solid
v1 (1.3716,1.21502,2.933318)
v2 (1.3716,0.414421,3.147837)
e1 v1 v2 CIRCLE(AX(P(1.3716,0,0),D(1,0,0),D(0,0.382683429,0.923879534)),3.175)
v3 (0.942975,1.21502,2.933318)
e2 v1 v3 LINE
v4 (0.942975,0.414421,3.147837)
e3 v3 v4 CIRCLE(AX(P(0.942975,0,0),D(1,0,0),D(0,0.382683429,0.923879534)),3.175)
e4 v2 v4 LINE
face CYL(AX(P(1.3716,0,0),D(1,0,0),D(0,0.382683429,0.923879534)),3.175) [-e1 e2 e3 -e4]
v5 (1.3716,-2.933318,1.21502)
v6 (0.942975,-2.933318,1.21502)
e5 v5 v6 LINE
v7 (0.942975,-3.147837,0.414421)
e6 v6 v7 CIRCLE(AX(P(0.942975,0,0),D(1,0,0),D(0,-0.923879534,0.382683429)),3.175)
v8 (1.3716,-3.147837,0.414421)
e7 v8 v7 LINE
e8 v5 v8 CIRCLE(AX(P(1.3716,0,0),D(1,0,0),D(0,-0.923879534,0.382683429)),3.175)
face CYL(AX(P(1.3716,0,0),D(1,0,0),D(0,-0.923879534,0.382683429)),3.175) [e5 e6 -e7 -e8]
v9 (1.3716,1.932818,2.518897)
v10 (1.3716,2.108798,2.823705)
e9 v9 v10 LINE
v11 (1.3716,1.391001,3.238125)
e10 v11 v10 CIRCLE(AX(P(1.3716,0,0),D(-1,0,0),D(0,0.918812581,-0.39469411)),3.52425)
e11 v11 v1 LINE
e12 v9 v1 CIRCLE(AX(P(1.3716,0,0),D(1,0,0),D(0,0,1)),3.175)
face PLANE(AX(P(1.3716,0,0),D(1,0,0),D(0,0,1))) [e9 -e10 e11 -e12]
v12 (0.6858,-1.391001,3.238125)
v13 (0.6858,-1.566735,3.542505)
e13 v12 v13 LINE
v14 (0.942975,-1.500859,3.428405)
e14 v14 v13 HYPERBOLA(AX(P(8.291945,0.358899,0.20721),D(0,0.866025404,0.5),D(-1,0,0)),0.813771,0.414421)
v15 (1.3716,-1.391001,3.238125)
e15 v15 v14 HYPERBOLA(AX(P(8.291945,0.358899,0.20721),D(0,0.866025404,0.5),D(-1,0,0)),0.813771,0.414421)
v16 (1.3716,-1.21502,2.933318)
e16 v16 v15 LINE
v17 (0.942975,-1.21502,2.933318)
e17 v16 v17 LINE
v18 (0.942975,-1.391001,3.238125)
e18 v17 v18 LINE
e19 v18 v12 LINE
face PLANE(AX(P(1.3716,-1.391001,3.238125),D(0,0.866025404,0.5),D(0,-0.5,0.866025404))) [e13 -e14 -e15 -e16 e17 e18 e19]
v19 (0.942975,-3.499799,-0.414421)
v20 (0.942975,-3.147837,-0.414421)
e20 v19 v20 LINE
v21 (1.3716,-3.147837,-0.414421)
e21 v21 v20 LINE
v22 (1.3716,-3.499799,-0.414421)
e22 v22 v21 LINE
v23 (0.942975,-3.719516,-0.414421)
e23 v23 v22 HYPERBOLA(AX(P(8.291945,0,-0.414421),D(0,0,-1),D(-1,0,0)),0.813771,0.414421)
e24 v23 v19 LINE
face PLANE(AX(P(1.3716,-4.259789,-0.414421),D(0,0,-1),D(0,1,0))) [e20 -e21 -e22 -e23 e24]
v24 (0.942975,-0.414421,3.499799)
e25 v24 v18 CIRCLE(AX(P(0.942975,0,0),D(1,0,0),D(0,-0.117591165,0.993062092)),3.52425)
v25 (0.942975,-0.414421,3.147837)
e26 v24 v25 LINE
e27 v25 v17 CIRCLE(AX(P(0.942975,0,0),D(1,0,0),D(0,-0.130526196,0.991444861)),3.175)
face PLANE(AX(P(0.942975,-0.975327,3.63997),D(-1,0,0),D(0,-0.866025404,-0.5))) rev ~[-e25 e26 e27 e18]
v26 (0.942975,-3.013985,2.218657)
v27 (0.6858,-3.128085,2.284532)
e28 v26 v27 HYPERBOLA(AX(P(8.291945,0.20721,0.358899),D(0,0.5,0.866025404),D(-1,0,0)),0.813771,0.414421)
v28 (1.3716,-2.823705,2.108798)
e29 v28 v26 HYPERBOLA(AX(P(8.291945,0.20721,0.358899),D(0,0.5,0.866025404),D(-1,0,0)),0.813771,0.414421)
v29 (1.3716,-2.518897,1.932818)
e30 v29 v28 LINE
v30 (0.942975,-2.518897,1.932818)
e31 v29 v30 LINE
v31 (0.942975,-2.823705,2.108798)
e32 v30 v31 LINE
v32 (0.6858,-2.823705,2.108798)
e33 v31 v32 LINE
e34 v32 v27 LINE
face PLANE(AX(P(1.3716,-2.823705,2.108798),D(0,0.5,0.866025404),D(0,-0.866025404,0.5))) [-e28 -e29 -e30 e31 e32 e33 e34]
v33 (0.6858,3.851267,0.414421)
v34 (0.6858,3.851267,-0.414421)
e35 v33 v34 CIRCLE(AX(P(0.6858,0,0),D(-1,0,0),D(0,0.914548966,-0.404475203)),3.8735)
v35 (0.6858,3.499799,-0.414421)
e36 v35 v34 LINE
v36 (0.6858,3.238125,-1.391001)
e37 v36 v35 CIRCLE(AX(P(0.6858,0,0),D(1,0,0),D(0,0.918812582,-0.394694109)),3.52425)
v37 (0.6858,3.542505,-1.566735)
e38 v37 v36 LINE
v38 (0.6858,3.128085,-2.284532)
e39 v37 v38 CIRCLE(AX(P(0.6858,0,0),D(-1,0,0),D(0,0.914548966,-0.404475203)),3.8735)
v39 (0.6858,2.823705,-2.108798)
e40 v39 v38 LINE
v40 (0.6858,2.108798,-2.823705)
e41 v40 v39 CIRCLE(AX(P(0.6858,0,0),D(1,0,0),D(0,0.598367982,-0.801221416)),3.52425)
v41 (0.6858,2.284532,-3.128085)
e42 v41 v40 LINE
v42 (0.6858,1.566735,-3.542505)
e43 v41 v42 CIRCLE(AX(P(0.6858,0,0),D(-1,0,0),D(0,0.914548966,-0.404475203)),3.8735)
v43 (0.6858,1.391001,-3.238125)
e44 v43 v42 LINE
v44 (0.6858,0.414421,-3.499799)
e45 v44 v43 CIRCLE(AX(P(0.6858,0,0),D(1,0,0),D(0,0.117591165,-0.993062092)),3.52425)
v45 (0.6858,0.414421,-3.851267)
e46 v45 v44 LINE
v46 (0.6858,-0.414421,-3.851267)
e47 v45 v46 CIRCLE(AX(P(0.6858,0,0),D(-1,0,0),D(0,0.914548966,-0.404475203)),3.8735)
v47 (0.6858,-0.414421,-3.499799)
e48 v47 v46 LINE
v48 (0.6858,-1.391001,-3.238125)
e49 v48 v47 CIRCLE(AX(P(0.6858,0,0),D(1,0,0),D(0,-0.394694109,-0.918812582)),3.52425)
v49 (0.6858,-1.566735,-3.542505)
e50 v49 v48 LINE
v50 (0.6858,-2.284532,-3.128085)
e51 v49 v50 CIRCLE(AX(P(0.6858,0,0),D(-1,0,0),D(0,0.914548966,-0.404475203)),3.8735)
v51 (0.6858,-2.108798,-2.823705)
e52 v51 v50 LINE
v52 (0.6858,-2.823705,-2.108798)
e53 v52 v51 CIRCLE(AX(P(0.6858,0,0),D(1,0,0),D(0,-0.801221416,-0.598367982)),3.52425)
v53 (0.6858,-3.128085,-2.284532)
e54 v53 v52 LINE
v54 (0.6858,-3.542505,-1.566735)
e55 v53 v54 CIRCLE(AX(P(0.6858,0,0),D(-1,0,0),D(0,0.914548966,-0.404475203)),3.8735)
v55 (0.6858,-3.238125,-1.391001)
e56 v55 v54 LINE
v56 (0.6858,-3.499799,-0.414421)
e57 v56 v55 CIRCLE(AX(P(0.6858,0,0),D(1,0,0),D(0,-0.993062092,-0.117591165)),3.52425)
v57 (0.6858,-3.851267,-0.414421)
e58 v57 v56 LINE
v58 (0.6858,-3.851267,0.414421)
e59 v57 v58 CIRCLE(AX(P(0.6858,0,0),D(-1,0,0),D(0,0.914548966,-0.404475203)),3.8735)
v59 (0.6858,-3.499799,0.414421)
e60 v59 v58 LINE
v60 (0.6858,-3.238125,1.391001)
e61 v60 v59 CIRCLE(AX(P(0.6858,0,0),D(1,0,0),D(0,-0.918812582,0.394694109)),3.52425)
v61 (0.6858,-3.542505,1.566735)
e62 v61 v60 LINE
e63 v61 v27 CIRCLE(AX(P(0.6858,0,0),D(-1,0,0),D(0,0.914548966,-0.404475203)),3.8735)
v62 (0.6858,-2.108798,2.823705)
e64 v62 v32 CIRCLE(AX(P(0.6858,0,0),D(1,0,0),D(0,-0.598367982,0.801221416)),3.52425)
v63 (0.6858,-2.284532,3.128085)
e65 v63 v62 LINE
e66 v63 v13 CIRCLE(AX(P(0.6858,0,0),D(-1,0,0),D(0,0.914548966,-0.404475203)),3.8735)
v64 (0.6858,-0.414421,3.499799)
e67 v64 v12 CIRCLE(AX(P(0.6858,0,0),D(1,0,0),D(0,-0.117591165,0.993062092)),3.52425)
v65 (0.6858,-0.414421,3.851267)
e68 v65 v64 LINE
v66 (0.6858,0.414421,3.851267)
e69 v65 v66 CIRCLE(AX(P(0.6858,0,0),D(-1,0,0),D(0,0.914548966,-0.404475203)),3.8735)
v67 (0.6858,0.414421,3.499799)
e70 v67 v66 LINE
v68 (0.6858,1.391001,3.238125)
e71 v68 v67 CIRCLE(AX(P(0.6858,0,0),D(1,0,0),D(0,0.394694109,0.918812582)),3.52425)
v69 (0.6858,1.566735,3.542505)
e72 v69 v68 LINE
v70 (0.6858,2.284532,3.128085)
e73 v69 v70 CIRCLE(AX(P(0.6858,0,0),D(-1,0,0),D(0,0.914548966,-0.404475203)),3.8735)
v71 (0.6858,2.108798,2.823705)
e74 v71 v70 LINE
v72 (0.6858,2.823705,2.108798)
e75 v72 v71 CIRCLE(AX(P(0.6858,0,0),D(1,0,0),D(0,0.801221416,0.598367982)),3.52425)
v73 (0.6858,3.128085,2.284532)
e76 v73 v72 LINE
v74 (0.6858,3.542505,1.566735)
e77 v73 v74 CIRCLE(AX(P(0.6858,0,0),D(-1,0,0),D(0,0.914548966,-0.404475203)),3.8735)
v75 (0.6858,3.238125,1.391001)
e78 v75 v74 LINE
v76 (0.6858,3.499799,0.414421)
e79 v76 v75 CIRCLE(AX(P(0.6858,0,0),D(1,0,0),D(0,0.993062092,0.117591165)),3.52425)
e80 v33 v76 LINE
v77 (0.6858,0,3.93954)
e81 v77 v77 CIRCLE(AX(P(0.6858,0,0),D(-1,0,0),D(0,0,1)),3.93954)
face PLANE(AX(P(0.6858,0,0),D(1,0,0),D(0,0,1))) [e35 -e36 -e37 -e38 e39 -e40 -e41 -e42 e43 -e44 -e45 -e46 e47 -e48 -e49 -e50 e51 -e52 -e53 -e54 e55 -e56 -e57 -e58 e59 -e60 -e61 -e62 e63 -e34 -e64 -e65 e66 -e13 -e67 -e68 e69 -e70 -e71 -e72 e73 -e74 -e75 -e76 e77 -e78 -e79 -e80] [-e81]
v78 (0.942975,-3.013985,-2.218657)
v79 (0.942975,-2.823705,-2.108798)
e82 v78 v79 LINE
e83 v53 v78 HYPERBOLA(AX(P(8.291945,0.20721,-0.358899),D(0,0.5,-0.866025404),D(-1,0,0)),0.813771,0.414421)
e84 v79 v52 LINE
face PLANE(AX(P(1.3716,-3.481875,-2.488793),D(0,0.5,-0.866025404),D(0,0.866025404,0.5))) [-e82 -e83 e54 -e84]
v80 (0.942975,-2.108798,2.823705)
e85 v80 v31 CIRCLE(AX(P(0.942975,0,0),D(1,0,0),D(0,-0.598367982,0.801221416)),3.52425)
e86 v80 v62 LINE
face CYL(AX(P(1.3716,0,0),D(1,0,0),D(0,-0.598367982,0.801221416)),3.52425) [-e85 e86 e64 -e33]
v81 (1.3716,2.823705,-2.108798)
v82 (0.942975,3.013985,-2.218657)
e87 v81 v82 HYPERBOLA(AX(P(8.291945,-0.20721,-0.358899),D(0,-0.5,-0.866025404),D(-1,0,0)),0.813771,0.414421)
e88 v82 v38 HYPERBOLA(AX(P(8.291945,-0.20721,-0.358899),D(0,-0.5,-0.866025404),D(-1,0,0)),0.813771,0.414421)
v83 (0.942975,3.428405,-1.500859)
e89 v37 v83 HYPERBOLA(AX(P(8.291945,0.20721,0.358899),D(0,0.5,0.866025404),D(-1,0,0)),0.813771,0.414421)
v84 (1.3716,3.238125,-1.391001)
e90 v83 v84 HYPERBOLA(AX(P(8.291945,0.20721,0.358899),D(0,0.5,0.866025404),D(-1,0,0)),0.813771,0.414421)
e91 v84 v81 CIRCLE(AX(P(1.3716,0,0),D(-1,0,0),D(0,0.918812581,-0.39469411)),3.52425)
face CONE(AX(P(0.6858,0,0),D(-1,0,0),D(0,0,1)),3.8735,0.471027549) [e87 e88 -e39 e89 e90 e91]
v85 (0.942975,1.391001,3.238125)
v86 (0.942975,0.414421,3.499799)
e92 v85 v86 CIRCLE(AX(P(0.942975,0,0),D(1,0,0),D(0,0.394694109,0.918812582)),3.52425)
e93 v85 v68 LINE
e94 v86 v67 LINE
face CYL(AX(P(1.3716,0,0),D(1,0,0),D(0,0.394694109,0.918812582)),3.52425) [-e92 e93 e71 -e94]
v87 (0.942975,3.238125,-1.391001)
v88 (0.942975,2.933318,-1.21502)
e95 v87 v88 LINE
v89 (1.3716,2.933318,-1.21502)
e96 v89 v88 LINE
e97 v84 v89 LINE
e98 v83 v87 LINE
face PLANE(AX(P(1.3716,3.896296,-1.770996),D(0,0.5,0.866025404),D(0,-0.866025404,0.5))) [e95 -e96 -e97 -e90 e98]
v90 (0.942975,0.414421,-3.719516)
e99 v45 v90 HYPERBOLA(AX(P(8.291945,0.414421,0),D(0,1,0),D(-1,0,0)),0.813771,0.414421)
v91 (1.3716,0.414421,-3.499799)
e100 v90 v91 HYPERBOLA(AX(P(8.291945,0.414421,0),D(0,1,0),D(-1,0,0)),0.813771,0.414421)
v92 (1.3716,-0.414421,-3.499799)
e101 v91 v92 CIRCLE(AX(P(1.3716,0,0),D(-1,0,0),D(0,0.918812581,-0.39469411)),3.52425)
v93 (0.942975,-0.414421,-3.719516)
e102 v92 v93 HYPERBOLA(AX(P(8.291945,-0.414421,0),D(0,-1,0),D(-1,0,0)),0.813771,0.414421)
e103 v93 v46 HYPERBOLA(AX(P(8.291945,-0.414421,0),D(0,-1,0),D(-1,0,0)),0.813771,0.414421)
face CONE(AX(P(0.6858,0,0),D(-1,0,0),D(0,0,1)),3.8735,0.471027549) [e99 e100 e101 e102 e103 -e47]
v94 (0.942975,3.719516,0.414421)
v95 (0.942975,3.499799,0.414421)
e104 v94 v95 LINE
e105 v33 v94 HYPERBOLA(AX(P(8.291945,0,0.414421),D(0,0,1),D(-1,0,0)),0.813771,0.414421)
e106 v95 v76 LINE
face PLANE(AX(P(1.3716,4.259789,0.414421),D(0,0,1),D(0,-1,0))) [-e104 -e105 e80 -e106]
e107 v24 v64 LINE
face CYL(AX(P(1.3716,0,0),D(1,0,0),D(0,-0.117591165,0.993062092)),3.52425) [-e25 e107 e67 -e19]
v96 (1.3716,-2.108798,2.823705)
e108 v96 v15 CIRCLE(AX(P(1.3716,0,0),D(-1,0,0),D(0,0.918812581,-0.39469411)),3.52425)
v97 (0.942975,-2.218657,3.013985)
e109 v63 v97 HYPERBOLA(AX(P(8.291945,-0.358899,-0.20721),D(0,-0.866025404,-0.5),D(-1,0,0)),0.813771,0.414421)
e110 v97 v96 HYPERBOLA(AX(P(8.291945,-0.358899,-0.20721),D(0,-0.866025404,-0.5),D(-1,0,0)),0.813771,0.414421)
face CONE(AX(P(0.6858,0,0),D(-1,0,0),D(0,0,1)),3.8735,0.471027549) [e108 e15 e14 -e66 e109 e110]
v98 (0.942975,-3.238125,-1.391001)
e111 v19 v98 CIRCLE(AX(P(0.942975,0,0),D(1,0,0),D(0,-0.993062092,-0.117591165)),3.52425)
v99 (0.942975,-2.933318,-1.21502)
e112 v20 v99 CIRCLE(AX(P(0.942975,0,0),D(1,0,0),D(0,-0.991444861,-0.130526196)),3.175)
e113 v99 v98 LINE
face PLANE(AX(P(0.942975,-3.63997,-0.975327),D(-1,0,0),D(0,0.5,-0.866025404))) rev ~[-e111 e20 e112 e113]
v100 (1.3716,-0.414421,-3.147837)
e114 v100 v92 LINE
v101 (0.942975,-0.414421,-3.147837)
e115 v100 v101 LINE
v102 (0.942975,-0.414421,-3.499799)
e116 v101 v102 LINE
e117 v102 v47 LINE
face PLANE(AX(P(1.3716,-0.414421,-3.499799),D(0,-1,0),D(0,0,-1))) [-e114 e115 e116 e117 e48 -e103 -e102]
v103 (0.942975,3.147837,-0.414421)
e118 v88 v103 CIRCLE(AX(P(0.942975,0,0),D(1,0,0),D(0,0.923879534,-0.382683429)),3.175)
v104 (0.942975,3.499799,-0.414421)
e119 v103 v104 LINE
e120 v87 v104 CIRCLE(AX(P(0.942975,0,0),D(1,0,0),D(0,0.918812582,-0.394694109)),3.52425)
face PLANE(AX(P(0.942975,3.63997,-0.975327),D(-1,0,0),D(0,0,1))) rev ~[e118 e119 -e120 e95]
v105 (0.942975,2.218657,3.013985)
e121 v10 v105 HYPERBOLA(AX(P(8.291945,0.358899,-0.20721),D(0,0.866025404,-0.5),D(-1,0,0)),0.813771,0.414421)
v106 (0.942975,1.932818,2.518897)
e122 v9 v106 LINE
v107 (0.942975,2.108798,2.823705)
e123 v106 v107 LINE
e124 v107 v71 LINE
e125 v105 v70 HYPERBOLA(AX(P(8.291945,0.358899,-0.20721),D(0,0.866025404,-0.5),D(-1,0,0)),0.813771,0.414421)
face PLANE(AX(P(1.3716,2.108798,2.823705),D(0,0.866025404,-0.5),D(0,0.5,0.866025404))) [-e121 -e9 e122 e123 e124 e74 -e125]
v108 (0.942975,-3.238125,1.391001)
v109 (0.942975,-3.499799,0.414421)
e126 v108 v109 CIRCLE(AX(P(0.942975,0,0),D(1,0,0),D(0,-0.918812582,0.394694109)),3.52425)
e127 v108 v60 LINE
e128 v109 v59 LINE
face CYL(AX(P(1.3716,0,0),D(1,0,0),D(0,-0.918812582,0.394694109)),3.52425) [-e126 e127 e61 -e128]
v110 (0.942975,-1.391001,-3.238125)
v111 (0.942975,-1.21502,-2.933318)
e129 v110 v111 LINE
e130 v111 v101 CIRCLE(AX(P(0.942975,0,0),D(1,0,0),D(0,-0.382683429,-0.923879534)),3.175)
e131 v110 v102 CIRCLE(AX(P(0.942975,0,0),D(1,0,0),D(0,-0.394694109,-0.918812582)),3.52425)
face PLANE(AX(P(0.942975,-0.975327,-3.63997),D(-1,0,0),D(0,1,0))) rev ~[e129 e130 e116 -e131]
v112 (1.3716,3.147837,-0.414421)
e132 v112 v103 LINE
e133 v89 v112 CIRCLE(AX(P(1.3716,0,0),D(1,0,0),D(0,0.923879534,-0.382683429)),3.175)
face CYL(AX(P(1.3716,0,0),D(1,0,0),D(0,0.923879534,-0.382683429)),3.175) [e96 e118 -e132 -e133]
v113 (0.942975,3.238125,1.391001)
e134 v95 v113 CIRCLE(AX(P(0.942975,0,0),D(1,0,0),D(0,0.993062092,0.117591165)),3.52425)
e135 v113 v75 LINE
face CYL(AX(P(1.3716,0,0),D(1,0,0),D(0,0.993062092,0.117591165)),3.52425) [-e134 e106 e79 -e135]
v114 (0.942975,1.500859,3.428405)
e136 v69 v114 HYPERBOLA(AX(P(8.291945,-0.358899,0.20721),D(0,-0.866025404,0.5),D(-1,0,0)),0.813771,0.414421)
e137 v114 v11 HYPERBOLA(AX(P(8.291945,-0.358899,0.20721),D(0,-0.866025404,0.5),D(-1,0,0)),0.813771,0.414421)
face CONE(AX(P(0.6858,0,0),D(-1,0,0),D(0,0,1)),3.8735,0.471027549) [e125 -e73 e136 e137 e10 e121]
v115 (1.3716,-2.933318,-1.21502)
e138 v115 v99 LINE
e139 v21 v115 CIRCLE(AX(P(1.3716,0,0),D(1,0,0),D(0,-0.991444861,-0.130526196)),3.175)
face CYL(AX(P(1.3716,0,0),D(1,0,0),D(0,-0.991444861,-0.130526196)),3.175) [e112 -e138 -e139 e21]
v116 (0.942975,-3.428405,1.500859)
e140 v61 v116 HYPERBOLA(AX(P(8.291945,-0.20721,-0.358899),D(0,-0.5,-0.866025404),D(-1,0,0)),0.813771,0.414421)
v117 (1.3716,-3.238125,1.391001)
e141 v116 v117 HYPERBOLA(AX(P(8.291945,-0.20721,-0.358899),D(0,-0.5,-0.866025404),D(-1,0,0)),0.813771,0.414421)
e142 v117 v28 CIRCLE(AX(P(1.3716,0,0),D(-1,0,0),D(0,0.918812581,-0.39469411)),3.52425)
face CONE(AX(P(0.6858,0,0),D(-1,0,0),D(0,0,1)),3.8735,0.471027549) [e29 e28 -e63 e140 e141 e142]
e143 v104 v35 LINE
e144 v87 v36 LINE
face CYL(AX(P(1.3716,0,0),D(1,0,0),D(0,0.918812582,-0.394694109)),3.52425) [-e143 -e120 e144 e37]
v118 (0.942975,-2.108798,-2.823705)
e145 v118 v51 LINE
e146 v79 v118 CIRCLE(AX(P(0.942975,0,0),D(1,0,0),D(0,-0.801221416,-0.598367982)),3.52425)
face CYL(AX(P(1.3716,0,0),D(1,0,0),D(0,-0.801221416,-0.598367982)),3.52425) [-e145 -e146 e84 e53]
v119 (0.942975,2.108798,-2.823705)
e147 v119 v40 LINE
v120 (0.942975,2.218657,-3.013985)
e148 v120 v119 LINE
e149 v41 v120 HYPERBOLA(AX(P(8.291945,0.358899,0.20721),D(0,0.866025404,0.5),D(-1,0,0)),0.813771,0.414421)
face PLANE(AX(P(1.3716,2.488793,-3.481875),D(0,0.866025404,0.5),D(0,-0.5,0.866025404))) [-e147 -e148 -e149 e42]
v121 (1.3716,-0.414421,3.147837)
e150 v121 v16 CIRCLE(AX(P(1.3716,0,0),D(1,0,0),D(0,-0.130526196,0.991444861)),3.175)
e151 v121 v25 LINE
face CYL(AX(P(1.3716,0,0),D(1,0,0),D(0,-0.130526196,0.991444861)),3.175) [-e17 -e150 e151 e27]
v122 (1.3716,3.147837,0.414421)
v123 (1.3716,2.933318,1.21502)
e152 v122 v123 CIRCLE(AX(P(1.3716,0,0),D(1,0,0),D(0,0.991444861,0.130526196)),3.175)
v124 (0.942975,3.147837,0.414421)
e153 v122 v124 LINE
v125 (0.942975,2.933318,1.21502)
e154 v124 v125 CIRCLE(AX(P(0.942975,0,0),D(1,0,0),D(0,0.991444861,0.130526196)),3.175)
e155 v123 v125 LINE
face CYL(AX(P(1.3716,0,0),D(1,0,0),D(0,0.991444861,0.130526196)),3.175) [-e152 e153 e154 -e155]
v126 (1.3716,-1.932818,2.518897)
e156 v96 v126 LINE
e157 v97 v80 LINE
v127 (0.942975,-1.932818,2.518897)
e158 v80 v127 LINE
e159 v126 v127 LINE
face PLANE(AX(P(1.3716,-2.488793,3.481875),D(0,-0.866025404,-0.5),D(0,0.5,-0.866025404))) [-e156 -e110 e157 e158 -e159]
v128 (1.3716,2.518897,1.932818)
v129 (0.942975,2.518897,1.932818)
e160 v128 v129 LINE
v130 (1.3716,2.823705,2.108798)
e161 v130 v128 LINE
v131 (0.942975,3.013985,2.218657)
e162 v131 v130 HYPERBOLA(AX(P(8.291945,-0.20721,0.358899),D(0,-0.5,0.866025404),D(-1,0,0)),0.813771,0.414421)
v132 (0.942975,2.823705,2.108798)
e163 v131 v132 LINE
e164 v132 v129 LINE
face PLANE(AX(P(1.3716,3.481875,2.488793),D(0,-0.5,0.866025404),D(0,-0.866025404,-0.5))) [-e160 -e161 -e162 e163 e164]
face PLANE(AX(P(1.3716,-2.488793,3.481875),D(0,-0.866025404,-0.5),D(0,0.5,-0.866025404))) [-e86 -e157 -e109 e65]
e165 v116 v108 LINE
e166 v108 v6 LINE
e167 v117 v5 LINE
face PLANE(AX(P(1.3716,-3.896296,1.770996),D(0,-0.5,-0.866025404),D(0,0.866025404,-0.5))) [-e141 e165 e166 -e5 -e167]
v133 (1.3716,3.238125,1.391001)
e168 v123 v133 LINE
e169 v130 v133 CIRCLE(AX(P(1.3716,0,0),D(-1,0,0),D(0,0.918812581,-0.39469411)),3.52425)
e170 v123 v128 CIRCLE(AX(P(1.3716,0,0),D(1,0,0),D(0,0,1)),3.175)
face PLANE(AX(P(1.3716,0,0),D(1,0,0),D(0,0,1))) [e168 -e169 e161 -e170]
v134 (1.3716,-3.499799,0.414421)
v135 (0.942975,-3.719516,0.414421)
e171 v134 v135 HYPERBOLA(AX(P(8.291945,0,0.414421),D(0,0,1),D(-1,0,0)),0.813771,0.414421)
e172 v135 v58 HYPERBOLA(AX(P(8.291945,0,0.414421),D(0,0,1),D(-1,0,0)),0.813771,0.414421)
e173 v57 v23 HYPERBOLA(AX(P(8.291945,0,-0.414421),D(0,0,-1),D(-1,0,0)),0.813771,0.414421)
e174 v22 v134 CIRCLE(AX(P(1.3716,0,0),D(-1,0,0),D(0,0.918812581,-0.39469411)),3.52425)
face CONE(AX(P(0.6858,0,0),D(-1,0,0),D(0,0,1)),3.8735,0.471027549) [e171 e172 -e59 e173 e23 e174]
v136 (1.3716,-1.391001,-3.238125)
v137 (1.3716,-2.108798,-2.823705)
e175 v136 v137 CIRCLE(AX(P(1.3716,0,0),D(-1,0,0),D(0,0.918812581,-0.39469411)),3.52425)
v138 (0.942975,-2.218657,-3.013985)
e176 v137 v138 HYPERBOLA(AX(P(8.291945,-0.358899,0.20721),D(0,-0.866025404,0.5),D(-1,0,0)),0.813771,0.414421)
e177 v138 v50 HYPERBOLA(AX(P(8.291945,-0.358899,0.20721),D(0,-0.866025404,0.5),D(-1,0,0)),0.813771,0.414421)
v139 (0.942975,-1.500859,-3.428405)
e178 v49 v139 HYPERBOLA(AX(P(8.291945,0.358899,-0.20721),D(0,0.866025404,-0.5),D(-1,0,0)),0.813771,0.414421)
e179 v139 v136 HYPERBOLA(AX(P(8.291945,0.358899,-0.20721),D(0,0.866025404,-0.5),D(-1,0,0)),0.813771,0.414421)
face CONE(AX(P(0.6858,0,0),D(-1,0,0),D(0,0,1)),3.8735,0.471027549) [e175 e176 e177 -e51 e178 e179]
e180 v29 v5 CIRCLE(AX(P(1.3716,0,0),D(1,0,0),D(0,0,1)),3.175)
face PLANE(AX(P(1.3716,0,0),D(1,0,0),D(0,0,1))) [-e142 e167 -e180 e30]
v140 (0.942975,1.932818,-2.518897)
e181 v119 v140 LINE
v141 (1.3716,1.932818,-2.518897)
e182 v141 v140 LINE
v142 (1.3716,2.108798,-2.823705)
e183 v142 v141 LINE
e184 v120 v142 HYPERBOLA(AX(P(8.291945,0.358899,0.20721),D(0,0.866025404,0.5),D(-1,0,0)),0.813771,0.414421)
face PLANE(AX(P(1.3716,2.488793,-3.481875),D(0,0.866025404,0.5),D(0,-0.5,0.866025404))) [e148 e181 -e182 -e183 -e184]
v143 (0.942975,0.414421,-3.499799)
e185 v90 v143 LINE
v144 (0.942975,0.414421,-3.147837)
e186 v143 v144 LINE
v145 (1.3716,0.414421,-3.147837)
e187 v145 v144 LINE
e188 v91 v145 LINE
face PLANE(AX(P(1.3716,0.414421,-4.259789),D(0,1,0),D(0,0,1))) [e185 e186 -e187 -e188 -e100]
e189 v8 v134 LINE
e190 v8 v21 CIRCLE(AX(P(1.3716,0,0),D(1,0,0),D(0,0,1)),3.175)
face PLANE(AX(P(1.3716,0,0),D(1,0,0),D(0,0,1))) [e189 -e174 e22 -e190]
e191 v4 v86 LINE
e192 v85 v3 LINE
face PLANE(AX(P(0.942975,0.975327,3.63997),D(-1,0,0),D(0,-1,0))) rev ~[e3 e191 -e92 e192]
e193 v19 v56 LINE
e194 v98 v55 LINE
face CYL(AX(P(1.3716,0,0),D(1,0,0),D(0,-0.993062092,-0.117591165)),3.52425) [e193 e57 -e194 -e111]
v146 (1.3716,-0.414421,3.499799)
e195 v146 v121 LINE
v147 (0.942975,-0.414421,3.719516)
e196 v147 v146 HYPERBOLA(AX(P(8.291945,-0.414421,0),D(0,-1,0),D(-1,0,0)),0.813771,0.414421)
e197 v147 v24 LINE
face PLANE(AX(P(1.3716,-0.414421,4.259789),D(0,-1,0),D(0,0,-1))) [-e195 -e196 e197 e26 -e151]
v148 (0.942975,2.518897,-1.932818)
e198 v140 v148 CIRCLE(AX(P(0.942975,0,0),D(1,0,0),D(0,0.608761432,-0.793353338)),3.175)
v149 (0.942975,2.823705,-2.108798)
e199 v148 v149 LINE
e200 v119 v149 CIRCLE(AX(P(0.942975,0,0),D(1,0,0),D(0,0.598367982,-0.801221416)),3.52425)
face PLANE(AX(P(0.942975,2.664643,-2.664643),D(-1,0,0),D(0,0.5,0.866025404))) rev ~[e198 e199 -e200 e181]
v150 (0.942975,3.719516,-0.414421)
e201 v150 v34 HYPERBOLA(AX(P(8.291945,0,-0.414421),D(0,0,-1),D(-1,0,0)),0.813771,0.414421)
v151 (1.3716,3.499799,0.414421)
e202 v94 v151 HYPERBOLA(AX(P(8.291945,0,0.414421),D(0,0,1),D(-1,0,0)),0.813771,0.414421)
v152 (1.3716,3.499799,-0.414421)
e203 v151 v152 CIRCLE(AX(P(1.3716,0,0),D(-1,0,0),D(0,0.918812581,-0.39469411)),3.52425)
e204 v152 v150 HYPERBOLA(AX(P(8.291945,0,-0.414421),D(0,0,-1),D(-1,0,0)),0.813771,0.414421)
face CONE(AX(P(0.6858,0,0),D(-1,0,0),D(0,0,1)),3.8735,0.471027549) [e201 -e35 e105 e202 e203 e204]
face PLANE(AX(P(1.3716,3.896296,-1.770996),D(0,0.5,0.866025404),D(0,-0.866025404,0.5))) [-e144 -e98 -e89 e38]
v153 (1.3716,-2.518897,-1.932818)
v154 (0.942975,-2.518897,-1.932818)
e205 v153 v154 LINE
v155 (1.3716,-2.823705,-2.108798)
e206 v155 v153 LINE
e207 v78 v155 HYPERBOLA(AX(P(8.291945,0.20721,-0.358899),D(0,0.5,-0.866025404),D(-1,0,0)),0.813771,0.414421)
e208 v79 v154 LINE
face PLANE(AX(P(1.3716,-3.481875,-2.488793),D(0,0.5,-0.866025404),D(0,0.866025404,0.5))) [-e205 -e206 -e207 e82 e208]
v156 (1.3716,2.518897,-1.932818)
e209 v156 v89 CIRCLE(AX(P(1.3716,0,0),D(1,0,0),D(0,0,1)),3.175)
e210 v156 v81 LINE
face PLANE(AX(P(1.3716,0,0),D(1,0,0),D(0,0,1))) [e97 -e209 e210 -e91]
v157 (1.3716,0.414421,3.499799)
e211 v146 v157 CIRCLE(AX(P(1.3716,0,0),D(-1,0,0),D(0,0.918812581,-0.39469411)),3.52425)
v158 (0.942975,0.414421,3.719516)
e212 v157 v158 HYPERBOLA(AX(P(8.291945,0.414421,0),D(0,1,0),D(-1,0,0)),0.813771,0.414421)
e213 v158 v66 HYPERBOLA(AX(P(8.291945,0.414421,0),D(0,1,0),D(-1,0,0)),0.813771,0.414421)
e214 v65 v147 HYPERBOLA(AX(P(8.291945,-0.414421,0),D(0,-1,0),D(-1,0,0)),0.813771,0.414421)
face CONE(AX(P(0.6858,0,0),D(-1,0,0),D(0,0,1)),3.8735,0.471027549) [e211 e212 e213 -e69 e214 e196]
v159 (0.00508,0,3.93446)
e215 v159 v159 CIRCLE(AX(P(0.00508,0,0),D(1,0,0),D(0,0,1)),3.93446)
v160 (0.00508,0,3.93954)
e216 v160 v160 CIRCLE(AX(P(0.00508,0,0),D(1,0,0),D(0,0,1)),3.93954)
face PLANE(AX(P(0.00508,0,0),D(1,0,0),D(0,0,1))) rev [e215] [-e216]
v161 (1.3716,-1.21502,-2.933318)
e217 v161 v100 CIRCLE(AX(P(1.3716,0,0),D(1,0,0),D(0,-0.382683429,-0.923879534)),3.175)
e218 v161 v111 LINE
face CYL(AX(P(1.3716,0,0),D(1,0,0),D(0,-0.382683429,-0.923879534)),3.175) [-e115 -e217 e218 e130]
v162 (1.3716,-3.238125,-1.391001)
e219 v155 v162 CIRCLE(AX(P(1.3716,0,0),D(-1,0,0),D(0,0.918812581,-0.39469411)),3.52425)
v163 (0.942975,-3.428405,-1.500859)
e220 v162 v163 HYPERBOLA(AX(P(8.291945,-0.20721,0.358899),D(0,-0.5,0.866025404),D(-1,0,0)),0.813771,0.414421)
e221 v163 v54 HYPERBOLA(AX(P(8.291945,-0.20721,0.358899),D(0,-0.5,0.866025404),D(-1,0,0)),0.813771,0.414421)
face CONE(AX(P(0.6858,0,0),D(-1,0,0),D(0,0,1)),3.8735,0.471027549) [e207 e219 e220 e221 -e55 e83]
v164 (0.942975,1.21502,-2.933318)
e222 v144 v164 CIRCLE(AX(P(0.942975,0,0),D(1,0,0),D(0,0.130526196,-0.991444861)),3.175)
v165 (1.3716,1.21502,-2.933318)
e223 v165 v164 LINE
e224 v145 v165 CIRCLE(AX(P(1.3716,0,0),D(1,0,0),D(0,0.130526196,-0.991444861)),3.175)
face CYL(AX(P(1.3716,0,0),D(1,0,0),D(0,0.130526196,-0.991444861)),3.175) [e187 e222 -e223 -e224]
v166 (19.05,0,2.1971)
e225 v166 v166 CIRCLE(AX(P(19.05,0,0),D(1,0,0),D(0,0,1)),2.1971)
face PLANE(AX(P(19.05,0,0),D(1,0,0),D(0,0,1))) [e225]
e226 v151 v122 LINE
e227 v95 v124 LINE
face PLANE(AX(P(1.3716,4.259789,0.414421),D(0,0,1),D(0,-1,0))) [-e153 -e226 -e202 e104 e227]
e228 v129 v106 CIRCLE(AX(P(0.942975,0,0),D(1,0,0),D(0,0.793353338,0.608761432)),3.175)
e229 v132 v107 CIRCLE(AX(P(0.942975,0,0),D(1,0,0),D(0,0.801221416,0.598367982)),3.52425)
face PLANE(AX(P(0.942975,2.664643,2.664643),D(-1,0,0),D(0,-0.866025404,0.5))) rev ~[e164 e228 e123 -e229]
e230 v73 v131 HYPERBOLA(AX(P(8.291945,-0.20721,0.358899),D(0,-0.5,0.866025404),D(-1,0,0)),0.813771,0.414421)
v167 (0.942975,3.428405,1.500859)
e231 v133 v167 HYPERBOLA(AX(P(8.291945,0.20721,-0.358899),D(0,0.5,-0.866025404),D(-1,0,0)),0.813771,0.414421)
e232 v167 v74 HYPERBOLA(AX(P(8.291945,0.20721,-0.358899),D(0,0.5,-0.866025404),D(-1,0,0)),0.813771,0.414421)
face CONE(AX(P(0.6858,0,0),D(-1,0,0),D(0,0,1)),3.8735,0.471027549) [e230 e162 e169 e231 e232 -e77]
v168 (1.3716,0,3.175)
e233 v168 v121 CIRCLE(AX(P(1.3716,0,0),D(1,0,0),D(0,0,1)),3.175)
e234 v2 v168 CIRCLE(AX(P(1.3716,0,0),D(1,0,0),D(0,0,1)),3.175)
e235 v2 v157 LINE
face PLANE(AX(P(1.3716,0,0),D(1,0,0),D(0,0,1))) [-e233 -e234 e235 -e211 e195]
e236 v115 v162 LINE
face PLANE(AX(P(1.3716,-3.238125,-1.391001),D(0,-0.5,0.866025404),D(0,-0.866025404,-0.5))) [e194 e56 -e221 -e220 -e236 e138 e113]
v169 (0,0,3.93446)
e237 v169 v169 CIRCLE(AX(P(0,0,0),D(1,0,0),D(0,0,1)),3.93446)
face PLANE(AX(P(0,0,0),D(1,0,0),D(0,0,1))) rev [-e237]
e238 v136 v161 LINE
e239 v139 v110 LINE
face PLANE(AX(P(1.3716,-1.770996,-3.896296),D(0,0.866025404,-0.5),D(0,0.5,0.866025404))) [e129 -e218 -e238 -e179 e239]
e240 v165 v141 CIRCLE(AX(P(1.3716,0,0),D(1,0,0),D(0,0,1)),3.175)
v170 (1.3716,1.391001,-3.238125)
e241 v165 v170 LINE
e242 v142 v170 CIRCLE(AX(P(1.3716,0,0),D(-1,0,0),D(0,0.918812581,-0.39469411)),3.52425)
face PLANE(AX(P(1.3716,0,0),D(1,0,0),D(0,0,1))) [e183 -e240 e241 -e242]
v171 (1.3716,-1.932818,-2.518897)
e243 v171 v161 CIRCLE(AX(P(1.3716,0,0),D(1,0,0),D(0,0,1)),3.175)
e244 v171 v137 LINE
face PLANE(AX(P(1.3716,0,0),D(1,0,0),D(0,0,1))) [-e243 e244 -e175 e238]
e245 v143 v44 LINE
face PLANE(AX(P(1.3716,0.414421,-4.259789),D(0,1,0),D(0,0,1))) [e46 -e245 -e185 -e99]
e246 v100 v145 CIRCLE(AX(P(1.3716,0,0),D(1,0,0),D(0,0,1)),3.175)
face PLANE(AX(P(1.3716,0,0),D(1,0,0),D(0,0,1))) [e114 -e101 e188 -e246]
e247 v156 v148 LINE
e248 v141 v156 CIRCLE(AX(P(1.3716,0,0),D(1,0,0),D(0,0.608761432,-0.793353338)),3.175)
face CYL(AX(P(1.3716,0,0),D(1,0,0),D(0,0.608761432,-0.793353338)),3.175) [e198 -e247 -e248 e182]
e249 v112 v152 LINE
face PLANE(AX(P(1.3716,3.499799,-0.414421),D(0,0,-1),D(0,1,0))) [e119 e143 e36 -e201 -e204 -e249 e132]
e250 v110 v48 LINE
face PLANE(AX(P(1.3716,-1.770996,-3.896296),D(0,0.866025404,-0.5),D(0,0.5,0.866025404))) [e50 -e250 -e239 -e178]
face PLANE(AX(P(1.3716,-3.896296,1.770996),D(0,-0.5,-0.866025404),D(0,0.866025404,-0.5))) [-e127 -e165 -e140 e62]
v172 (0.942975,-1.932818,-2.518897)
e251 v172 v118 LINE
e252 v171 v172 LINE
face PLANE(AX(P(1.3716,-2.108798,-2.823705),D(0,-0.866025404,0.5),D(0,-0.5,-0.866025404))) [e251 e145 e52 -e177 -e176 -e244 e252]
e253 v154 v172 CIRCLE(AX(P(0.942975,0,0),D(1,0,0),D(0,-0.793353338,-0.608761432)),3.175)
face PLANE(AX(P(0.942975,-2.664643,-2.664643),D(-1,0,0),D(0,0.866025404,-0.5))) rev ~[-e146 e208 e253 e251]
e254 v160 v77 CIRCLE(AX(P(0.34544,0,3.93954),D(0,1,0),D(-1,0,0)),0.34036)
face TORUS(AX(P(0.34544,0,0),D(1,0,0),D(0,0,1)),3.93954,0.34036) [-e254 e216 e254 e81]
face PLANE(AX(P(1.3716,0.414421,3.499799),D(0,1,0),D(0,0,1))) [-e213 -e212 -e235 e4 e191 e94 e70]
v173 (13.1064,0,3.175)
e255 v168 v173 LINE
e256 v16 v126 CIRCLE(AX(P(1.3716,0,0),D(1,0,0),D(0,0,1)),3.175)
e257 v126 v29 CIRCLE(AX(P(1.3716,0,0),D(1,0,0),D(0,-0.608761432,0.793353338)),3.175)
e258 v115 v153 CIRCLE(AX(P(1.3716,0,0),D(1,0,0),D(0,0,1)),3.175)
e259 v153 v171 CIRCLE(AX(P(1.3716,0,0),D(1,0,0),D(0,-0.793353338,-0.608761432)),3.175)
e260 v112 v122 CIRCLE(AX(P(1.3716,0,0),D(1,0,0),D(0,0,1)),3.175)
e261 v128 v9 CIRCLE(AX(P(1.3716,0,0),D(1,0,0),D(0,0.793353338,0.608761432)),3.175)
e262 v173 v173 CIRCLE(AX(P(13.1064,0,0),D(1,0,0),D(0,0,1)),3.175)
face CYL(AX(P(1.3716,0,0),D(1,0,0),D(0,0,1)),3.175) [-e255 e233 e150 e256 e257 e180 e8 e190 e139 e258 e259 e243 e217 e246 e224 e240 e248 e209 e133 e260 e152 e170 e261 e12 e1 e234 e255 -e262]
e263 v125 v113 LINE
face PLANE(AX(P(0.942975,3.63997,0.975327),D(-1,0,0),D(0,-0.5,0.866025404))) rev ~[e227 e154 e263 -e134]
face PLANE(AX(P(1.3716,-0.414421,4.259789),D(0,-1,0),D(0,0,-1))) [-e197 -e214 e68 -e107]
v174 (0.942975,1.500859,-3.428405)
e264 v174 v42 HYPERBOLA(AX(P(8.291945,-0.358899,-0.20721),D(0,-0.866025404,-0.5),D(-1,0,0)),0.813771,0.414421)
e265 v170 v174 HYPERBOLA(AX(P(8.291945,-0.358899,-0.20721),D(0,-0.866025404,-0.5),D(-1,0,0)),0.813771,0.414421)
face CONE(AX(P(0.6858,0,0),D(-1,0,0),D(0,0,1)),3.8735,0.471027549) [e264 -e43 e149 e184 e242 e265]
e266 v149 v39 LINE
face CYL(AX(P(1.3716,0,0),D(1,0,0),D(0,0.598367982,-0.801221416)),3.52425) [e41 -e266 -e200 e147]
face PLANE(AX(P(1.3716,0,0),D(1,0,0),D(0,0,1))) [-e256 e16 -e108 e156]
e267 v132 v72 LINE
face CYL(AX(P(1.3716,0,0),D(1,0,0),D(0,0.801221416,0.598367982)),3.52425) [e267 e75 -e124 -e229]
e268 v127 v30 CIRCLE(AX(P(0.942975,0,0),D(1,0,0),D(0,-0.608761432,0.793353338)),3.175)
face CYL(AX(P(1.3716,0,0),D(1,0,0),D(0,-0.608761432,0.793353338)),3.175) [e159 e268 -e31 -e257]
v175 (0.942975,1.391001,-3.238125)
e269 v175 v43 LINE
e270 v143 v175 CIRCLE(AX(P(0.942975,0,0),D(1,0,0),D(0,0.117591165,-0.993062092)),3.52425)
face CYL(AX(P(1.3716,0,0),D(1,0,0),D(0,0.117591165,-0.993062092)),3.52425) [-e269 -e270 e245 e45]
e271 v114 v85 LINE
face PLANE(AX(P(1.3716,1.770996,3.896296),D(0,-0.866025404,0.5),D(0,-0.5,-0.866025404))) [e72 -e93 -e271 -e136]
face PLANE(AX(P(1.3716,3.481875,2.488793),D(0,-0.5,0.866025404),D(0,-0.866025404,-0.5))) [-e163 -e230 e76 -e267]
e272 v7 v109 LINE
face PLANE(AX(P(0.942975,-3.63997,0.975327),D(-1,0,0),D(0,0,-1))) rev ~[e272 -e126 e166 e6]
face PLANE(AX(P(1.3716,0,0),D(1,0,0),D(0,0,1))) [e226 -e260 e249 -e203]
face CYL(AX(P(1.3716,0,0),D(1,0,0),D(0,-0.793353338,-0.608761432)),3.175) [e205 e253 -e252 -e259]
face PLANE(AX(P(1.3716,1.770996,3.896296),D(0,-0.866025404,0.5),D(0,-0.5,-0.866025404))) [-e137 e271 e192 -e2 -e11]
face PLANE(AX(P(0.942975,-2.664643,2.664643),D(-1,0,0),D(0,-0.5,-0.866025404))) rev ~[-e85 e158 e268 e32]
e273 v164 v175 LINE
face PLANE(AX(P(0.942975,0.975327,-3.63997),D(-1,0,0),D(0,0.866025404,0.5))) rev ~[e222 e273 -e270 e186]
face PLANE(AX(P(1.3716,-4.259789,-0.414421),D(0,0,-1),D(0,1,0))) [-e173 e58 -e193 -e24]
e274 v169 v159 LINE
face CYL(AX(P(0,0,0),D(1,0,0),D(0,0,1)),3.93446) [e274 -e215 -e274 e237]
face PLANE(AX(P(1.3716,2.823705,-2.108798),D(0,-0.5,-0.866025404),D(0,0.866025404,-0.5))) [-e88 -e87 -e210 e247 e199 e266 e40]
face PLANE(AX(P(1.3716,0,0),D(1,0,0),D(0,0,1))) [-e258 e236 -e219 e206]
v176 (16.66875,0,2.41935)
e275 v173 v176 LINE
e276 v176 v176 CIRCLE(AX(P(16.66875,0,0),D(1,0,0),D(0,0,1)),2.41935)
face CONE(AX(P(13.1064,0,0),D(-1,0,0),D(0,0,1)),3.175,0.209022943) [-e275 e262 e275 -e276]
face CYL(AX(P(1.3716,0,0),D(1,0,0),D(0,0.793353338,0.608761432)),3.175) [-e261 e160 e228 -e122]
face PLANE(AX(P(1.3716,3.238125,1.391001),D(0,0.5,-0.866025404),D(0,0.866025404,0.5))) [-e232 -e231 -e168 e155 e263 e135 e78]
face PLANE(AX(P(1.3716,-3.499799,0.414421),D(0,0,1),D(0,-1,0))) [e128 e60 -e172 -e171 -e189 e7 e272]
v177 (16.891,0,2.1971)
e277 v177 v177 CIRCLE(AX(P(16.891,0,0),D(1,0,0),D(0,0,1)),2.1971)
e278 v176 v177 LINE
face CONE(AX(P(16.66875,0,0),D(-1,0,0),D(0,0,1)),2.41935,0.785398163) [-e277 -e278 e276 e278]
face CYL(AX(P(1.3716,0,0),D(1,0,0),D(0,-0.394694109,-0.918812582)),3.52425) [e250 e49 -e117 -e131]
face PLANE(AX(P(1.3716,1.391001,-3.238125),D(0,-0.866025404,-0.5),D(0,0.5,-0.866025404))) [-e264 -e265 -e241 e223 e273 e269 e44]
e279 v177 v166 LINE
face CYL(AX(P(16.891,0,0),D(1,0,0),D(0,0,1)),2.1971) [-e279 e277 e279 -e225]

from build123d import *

# Parameters (mm, degrees)
RIBCUT1_DEPTH    = 0.428625
RIBCUT2_DEPTH    = 0.6858
RIBCUTSPAT_COUNT = 12
RIBCUTSPAT_ANGLE = 330


with BuildPart() as part:
    # BodySke → BaseBody (revolve)
    with BuildSketch(Plane.XY, mode=Mode.PRIVATE) as basebody_sk:
        with BuildLine():
            Line((0, 0), (0, 3.93446))
            Line((0, 3.93446), (0.00508, 3.93446))
            Line((0.00508, 3.93446), (0.00508, 3.93954))
            ThreePointArc((0.00508, 3.93954), (0.34544, 4.2799), (0.6858, 3.93954))
            Line((0.6858, 3.93954), (0.6858, 3.8735))
            Line((0.6858, 3.8735), (1.3716, 3.52425))
            Line((1.3716, 3.52425), (1.3716, 3.175))
            Line((1.3716, 3.175), (13.1064, 3.175))
            Line((13.1064, 3.175), (16.66875, 2.41935))
            Line((16.66875, 2.41935), (16.891, 2.1971))
            Line((16.891, 2.1971), (19.05, 2.1971))
            Line((19.05, 2.1971), (19.05, 0))
            Line((19.05, 0), (0, 0))
        make_face()
    revolve(basebody_sk.sketch.rotate(Axis((0, 0, 0), (1, 0, 0)), 90), axis=Axis((0, 0, 0), (1, 0, 0)))

    # RibCut1Ske → RibCut1 (cut)
    with BuildSketch(Plane(origin=(1.3716, 0, 0), x_dir=(0, 0, -1), z_dir=(1, 0, 0))):
        with BuildLine():
            Line((0.41442066, 3.147837435), (0.41442066, 4.259788672))
            ThreePointArc((0.41442066, 4.259788672), (1.107719631, 4.134065944), (1.770995516, 3.896295534))
            Line((1.770995516, 3.896295534), (1.215019898, 2.933317516))
            ThreePointArc((1.215019898, 2.933317516), (0.821750468, 3.066814498), (0.41442066, 3.147837435))
        make_face()
    ribcut1 = extrude(amount=-RIBCUT1_DEPTH, mode=Mode.SUBTRACT)

    # RibCut2Ske → RibCut2 (cut)
    with BuildSketch(Plane(origin=(1.3716, 0, 0), x_dir=(0, 0, -1), z_dir=(1, 0, 0))):
        with BuildLine():
            Line((0.41442066, 3.499799077), (0.41442066, 4.259788672))
            ThreePointArc((0.41442066, 4.259788672), (1.107719631, 4.134065944), (1.770995516, 3.896295534))
            Line((1.770995516, 3.896295534), (1.391000719, 3.238125239))
            ThreePointArc((1.391000719, 3.238125239), (0.91214302, 3.404164093), (0.41442066, 3.499799077))
        make_face()
    ribcut2 = extrude(amount=-RIBCUT2_DEPTH, mode=Mode.SUBTRACT)

    # RibCutsPat: RibCut1, RibCut2 ×12 about axis
    ribcutspat_axis = Axis((0, 0, 0), (1, 0, 0))
    add([ribcut1.rotate(ribcutspat_axis, i * RIBCUTSPAT_ANGLE / (RIBCUTSPAT_COUNT - 1)) for i in range(1, RIBCUTSPAT_COUNT)], mode=Mode.SUBTRACT)
    add([ribcut2.rotate(ribcutspat_axis, i * RIBCUTSPAT_ANGLE / (RIBCUTSPAT_COUNT - 1)) for i in range(1, RIBCUTSPAT_COUNT)], mode=Mode.SUBTRACT)


solid = part.part
